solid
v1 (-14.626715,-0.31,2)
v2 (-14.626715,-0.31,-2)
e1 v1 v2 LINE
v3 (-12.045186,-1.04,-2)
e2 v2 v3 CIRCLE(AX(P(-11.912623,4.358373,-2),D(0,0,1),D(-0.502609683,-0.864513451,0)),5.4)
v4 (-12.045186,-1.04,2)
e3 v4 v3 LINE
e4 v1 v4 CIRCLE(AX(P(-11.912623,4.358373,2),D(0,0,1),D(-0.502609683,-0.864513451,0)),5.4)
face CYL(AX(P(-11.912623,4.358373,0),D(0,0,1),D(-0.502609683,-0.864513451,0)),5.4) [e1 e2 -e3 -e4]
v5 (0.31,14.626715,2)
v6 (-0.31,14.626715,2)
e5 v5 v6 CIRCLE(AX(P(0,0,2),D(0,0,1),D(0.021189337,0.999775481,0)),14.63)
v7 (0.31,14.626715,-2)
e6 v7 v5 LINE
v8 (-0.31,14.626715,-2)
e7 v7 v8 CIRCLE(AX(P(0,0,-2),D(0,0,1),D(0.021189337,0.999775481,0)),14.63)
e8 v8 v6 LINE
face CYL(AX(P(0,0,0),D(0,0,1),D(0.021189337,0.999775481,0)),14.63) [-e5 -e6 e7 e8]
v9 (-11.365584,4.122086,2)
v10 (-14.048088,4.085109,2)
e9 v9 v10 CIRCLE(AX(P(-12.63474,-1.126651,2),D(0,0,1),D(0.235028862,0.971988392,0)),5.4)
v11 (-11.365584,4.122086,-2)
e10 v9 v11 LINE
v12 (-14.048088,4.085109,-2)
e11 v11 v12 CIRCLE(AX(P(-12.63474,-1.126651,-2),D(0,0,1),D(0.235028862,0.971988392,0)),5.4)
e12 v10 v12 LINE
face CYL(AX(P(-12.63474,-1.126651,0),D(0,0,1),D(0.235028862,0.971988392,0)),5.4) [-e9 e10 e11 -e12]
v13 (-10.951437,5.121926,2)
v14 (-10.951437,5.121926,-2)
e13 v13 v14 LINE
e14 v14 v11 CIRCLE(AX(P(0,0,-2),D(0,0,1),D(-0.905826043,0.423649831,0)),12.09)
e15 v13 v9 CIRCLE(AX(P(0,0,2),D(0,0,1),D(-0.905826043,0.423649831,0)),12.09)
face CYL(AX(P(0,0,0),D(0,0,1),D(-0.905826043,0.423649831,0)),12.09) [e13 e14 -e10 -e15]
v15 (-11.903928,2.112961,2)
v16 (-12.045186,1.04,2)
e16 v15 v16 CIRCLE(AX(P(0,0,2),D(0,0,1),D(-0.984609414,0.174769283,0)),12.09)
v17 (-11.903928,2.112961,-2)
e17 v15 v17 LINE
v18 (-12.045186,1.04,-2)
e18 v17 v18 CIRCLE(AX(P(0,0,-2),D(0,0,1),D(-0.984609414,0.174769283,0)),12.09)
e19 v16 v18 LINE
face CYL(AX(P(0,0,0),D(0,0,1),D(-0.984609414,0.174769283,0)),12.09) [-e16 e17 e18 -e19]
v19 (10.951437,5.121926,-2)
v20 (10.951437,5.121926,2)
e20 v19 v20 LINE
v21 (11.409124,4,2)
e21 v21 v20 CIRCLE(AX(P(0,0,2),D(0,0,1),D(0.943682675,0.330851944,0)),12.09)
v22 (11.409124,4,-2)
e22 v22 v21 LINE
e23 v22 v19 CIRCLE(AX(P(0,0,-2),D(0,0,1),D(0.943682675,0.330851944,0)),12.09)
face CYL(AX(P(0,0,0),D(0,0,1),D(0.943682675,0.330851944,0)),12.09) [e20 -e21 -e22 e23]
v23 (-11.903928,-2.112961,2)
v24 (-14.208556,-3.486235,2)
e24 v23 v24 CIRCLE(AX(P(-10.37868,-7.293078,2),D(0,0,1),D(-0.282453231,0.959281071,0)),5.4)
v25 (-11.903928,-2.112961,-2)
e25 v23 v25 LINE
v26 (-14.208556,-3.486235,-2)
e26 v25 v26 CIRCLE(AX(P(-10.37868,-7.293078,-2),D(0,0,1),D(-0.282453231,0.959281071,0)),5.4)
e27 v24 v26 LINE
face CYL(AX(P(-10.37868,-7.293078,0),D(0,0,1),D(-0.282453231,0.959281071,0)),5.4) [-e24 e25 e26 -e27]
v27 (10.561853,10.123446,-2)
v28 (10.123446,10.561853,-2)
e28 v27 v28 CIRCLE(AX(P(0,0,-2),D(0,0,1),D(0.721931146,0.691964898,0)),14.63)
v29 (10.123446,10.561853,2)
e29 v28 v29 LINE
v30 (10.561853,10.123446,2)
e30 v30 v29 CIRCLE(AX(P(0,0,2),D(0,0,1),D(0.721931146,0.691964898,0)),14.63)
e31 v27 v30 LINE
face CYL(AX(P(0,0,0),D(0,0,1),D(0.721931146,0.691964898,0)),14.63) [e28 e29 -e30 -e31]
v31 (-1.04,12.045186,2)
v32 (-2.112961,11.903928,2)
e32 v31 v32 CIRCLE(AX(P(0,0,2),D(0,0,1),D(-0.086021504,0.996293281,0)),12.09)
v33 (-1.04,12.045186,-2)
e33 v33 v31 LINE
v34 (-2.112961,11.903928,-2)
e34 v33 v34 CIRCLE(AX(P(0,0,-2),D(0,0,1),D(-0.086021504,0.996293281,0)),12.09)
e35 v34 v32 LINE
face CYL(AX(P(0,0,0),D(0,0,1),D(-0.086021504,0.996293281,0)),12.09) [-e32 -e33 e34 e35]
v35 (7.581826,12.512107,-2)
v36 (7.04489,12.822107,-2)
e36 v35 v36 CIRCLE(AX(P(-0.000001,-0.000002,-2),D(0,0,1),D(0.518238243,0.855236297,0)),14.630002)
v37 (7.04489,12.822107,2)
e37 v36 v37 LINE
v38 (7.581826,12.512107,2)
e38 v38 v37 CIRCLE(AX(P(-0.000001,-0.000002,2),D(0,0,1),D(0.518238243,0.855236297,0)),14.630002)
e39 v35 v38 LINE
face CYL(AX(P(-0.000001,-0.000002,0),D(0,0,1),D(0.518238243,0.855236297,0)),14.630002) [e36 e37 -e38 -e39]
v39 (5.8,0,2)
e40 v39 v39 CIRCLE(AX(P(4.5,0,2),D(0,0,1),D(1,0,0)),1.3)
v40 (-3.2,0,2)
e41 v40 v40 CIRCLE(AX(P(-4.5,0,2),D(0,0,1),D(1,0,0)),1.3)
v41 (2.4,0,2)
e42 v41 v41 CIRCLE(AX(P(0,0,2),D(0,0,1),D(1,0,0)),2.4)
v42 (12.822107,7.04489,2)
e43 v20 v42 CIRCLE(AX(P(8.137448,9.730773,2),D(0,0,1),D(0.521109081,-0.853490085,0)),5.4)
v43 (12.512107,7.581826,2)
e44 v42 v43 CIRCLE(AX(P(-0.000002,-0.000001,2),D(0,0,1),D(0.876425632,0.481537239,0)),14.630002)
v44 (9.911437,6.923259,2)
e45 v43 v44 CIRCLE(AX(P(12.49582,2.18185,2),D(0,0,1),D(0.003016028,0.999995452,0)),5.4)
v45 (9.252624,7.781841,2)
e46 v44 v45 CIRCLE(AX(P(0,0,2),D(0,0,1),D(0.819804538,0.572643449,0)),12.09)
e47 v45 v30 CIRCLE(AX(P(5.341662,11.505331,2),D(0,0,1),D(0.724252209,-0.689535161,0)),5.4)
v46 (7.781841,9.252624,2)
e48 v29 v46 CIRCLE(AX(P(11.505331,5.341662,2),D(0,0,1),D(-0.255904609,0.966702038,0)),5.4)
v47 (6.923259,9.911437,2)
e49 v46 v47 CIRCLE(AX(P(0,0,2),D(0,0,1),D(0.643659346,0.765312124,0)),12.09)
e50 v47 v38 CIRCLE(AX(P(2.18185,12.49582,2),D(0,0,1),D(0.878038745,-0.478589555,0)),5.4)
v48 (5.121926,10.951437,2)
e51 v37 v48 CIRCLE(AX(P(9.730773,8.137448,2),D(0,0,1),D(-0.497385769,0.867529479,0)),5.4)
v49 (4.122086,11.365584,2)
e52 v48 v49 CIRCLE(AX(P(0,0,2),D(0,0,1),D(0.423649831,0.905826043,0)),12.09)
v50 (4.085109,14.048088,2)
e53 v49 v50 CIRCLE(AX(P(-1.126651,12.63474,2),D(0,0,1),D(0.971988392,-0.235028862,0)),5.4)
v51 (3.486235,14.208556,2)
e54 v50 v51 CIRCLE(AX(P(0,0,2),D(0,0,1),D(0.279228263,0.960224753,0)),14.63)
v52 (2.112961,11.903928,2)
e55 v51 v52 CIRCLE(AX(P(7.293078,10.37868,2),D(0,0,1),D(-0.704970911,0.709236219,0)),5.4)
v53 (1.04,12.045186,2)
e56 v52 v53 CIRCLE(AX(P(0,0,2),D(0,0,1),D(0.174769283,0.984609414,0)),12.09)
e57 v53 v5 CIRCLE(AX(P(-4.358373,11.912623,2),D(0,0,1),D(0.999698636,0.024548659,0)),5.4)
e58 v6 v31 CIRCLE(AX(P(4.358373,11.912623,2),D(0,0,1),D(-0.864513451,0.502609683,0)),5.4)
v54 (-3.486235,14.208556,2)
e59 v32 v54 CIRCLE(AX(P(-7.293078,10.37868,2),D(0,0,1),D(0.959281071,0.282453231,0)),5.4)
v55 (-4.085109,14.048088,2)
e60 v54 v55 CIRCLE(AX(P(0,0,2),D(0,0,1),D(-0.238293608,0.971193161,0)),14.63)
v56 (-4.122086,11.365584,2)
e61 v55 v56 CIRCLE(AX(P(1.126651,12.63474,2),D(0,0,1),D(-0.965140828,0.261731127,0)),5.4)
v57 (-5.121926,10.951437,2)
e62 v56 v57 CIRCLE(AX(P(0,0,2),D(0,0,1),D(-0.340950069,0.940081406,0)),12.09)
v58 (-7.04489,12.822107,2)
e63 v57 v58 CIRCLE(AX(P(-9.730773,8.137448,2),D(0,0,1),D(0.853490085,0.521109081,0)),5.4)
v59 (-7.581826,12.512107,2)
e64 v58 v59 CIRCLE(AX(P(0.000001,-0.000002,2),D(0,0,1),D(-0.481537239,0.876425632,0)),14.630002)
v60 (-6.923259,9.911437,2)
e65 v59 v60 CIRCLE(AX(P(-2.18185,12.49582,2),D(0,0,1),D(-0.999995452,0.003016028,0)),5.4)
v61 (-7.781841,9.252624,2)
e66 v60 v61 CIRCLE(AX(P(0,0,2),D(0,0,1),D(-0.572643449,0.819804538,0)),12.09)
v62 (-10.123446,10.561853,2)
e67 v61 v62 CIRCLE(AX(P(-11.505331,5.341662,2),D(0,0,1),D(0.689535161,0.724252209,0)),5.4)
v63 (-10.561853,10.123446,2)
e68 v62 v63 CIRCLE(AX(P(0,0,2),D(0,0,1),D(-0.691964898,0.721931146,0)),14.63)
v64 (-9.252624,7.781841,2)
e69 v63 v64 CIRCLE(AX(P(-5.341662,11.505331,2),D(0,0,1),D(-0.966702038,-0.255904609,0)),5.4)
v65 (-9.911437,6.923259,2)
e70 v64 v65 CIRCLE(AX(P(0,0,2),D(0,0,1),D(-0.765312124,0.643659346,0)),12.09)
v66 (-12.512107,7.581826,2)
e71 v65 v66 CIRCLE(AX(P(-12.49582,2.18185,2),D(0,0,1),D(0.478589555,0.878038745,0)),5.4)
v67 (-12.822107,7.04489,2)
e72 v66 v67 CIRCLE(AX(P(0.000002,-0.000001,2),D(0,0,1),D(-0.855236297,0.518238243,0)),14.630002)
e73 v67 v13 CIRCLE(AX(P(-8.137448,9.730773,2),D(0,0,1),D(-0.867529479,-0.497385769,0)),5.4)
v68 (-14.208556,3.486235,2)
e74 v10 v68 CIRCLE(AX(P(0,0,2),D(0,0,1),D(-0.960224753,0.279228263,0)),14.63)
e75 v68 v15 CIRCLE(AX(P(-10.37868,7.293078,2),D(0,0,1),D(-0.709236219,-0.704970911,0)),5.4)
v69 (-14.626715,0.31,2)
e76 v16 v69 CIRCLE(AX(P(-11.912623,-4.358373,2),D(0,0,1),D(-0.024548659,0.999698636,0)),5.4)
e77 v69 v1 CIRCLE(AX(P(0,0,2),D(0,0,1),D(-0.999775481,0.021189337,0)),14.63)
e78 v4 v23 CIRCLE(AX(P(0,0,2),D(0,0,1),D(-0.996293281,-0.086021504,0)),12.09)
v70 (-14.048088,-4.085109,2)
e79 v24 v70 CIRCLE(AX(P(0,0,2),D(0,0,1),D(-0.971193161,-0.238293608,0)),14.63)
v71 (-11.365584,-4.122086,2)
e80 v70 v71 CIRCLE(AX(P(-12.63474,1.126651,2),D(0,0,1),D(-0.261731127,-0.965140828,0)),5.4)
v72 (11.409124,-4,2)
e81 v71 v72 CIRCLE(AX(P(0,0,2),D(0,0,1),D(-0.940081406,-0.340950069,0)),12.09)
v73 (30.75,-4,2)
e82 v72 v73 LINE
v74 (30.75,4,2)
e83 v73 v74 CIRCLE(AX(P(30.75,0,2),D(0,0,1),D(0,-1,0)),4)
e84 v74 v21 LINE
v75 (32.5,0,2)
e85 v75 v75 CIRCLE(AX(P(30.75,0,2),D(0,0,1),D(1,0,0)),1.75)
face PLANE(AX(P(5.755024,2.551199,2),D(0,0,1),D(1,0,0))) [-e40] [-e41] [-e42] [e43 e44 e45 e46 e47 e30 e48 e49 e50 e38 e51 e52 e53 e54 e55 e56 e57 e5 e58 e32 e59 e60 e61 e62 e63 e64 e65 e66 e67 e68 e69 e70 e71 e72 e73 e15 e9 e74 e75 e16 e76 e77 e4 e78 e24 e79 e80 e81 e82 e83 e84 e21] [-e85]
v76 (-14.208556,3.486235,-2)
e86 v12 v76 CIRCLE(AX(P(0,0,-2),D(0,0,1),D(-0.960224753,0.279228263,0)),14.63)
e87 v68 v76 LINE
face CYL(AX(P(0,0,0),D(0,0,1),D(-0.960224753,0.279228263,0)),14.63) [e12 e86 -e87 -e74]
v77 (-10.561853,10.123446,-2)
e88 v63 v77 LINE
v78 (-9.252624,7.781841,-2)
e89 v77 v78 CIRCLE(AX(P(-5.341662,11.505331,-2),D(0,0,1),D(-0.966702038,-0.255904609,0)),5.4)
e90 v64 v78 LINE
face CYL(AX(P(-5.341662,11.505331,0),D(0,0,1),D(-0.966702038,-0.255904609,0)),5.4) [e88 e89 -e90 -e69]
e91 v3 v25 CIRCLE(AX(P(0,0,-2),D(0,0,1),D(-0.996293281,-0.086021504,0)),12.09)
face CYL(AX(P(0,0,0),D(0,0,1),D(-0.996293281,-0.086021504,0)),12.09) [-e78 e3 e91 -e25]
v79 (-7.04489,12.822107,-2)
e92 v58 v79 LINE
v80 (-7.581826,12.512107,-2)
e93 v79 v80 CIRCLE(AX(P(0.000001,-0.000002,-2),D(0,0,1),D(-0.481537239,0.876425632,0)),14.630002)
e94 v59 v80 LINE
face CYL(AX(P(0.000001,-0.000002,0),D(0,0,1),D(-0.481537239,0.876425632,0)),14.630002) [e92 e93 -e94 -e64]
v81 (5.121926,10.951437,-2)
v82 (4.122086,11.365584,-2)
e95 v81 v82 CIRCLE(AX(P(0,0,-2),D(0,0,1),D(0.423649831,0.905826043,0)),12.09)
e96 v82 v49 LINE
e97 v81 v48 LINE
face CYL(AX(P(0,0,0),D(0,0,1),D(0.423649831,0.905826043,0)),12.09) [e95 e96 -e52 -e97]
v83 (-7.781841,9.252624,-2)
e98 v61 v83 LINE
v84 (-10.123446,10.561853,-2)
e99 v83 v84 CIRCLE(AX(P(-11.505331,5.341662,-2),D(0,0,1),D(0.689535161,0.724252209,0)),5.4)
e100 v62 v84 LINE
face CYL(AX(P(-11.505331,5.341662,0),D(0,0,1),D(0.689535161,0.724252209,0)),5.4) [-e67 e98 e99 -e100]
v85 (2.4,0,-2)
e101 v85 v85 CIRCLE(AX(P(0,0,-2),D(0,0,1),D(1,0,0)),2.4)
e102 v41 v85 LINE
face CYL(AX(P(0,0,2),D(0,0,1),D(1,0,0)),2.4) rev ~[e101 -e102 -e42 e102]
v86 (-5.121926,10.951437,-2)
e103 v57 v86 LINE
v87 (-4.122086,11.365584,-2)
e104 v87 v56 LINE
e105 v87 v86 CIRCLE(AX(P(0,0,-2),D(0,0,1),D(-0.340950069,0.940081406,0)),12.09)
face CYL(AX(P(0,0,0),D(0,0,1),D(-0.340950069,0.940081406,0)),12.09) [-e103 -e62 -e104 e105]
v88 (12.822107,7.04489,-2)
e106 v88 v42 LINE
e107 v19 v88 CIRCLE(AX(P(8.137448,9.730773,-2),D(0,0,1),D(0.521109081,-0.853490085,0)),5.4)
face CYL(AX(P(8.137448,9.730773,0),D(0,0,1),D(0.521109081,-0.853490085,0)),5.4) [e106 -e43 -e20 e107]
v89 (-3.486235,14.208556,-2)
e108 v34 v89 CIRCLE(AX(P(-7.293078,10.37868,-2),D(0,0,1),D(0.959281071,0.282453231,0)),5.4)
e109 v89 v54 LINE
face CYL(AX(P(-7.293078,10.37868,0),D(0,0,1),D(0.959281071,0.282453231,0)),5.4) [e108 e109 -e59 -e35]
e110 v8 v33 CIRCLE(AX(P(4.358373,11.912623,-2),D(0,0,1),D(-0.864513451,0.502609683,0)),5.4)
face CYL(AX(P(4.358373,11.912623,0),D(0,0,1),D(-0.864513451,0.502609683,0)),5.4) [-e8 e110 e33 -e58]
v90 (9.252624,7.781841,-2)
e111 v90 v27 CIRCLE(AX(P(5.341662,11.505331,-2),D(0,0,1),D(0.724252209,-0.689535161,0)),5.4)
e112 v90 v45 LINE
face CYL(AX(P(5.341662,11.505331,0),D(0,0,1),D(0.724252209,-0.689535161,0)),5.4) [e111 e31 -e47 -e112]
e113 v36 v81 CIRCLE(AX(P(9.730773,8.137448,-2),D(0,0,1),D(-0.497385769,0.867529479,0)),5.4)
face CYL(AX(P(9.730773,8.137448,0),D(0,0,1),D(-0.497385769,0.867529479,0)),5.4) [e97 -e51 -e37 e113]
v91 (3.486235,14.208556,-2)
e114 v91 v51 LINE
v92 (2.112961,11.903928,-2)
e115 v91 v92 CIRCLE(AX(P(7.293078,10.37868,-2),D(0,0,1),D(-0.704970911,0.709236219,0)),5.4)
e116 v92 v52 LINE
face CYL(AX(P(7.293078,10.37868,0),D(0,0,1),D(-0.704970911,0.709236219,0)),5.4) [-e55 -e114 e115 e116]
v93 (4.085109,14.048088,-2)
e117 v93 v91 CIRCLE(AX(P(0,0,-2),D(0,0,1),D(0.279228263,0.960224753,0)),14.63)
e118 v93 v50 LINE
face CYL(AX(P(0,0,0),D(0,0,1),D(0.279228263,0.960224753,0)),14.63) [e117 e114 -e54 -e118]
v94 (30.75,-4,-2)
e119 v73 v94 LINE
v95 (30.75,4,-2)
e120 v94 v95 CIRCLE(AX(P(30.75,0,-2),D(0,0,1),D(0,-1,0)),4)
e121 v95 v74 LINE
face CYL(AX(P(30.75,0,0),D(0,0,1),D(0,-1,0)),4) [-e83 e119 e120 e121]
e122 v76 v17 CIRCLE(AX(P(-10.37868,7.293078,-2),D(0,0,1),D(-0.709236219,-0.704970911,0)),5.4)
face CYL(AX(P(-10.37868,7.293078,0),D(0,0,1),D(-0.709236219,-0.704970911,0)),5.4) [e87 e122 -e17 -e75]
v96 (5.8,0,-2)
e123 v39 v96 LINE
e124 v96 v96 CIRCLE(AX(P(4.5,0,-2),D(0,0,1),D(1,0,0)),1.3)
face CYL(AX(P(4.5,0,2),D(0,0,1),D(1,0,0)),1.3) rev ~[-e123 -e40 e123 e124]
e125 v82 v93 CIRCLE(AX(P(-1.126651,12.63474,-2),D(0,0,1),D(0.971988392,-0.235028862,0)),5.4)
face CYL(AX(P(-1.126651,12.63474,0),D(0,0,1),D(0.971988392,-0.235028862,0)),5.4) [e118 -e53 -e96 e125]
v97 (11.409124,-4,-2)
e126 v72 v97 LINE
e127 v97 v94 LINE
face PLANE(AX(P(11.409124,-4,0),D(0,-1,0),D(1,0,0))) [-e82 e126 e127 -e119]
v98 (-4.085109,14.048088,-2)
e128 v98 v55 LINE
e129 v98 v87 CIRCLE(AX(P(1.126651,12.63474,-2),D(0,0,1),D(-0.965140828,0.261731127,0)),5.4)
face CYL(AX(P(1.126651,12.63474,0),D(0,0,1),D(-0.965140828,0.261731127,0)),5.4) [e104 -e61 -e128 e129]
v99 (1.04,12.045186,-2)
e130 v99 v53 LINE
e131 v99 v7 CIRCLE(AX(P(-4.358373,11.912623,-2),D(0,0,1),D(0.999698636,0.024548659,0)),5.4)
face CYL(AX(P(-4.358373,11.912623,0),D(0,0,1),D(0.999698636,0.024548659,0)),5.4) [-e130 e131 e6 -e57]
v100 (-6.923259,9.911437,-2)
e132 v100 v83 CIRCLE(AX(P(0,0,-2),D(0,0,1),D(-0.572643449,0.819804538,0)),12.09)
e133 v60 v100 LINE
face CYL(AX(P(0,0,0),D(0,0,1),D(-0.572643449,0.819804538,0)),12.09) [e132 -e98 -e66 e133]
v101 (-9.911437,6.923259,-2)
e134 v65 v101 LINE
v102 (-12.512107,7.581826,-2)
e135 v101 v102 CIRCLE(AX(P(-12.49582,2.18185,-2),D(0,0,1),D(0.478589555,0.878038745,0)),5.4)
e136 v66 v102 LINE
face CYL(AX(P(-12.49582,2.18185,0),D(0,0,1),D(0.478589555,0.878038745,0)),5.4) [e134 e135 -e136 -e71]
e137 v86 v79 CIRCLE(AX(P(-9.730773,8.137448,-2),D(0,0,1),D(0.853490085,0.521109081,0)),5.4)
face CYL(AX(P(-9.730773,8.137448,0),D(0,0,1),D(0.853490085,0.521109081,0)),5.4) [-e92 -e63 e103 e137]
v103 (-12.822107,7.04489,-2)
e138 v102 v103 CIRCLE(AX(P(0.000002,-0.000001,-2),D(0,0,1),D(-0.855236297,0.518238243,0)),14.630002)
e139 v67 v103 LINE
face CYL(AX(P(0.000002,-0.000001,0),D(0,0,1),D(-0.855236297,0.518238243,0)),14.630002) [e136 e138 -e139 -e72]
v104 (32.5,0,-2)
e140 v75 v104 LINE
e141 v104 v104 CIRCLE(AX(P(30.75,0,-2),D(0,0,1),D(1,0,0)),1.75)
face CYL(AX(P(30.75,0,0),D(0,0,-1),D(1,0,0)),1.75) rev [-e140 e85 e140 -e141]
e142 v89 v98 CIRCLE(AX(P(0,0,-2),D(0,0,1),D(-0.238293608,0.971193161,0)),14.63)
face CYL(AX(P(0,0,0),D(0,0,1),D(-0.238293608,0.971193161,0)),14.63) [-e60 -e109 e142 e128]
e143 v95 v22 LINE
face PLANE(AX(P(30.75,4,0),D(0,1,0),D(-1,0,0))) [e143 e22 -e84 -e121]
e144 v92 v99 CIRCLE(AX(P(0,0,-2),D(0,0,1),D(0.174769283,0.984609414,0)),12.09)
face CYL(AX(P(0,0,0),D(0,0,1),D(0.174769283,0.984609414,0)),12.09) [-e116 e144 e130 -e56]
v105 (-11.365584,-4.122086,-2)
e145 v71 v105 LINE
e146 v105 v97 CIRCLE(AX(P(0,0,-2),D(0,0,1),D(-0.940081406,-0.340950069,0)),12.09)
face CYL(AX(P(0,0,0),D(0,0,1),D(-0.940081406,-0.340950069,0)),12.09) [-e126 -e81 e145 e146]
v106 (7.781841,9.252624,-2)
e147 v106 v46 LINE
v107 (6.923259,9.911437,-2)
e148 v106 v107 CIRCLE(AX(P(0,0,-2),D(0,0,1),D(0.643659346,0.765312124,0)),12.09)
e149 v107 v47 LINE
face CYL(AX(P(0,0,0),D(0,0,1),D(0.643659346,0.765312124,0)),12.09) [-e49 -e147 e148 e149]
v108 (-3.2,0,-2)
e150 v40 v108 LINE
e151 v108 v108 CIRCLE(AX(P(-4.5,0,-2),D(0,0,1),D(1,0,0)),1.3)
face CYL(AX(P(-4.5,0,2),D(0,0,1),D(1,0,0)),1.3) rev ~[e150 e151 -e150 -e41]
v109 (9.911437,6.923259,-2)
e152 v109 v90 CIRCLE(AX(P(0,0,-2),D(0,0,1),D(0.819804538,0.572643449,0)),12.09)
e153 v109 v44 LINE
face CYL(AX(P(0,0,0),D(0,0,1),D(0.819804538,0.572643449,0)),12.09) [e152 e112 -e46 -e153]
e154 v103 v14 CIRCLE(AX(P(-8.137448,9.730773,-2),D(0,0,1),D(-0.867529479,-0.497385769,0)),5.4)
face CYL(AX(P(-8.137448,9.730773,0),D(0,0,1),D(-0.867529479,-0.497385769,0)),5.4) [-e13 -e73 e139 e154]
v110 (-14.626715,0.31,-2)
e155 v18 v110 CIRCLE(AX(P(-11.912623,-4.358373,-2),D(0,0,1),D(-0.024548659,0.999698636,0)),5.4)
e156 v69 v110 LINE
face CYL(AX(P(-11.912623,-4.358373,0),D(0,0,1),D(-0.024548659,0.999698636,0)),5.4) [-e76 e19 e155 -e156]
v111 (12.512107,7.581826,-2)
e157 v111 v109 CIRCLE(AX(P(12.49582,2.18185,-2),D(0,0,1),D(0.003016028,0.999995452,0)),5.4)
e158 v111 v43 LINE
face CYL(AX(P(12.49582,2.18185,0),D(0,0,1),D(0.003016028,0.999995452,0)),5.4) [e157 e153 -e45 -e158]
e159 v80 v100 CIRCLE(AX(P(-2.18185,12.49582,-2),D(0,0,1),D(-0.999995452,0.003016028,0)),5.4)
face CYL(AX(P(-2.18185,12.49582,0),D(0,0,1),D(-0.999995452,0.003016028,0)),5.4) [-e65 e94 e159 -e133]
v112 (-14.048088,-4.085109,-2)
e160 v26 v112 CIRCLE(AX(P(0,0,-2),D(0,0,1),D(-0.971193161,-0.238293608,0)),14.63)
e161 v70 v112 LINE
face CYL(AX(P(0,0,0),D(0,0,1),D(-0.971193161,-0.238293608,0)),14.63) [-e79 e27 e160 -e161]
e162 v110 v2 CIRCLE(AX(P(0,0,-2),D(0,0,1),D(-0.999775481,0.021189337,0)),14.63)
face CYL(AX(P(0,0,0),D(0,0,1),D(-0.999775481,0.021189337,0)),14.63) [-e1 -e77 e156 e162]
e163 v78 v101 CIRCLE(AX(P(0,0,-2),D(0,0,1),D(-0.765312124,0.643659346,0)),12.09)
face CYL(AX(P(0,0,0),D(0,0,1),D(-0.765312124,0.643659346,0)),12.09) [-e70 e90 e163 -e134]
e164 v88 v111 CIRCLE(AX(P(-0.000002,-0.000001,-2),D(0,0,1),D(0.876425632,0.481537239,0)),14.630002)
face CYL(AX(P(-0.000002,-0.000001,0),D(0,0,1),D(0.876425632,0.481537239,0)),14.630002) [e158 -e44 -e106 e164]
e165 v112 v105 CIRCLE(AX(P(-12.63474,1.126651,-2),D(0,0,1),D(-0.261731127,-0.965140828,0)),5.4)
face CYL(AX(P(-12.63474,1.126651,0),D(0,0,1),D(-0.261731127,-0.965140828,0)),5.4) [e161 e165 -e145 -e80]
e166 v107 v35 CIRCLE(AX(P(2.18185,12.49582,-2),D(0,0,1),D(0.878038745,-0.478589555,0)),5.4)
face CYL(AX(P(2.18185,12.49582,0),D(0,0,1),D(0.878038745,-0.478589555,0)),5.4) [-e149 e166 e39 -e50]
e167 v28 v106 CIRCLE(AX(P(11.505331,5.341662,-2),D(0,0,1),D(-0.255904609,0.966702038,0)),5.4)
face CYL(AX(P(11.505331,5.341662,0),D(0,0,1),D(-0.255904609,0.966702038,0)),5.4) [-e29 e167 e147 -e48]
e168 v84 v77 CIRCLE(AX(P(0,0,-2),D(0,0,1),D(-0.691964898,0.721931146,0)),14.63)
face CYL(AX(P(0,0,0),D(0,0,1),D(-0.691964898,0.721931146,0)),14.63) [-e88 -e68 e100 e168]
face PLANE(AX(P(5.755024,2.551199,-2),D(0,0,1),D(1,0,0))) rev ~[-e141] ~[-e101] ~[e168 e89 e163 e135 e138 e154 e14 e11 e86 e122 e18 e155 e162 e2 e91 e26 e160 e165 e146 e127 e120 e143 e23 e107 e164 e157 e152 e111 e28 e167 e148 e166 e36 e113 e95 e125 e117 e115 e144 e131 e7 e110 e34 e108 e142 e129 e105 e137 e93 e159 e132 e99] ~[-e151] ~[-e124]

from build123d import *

# Parameters (mm, degrees)
ESQUISSE1_R                  = 1.75
BOSS_EXTRU_1_DEPTH           = 2
ESQUISSE2_R                  = 1.3
ESQUISSE2_R_2                = 2.4
ENL_V_MAT_EXTRU_1_DEPTH      = 1
ENL_V_MAT_EXTRU_1_DEPTH_BACK = 5


with BuildPart() as part:
    # Esquisse1 → Boss.-Extru.1 (new body, symmetric)
    with BuildSketch(Plane.XY):
        with BuildLine():
            ThreePointArc((30.75, -4), (34.75, 0), (30.75, 4))
            Line((30.75, 4), (11.409123542, 4))
            ThreePointArc((11.409123542, 4), (11.194344337, 4.566700654), (10.951436862, 5.12192646))
            ThreePointArc((10.951436862, 5.12192646), (12.008090957, 5.965388247), (12.82210701, 7.044889767))
            ThreePointArc((12.82210701, 7.044889767), (12.669951657, 7.315), (12.51210701, 7.581825517))
            ThreePointArc((12.51210701, 7.581825517), (11.170223244, 7.416617696), (9.911436862, 6.9232593))
            ThreePointArc((9.911436862, 6.9232593), (9.591641884, 7.359925677), (9.252623584, 7.781841479))
            ThreePointArc((9.252623584, 7.781841479), (10.05496909, 8.870045207), (10.561852666, 10.123446462))
            ThreePointArc((10.561852666, 10.123446462), (10.344972209, 10.344972209), (10.123446462, 10.561852666))
            ThreePointArc((10.123446462, 10.561852666), (8.870045207, 10.05496909), (7.781841479, 9.252623584))
            ThreePointArc((7.781841479, 9.252623584), (7.359925677, 9.591641884), (6.9232593, 9.911436862))
            ThreePointArc((6.9232593, 9.911436862), (7.416617696, 11.170223244), (7.581825517, 12.51210701))
            ThreePointArc((7.581825517, 12.51210701), (7.315, 12.669951657), (7.044889767, 12.82210701))
            ThreePointArc((7.044889767, 12.82210701), (5.965388247, 12.008090957), (5.12192646, 10.951436862))
            ThreePointArc((5.12192646, 10.951436862), (4.626642697, 11.169703548), (4.122086336, 11.365584201))
            ThreePointArc((4.122086336, 11.365584201), (4.272836063, 12.709169027), (4.085109489, 14.048088143))
            ThreePointArc((4.085109489, 14.048088143), (3.78652263, 14.131494839), (3.486235477, 14.208555951))
            ThreePointArc((3.486235477, 14.208555951), (2.654199937, 13.14288127), (2.112960617, 11.903927815))
            ThreePointArc((2.112960617, 11.903927815), (1.578061664, 11.986568374), (1.04, 12.04518576))
            ThreePointArc((1.04, 12.04518576), (0.837867713, 13.382005944), (0.31, 14.626715284))
            ThreePointArc((0.31, 14.626715284), (0, 14.63), (-0.31, 14.626715284))
            ThreePointArc((-0.31, 14.626715284), (-0.837867713, 13.382005944), (-1.04, 12.04518576))
            ThreePointArc((-1.04, 12.04518576), (-1.578061664, 11.986568374), (-2.112960617, 11.903927815))
            ThreePointArc((-2.112960617, 11.903927815), (-2.654199937, 13.14288127), (-3.486235477, 14.208555951))
            ThreePointArc((-3.486235477, 14.208555951), (-3.78652263, 14.131494839), (-4.085109489, 14.048088143))
            ThreePointArc((-4.085109489, 14.048088143), (-4.272836063, 12.709169027), (-4.122086336, 11.365584201))
            ThreePointArc((-4.122086336, 11.365584201), (-4.626642697, 11.169703548), (-5.12192646, 10.951436862))
            ThreePointArc((-5.12192646, 10.951436862), (-5.965388247, 12.008090957), (-7.044889767, 12.82210701))
            ThreePointArc((-7.044889767, 12.82210701), (-7.315, 12.669951657), (-7.581825517, 12.51210701))
            ThreePointArc((-7.581825517, 12.51210701), (-7.416617696, 11.170223244), (-6.9232593, 9.911436862))
            ThreePointArc((-6.9232593, 9.911436862), (-7.359925677, 9.591641884), (-7.781841479, 9.252623584))
            ThreePointArc((-7.781841479, 9.252623584), (-8.870045207, 10.05496909), (-10.123446462, 10.561852666))
            ThreePointArc((-10.123446462, 10.561852666), (-10.344972209, 10.344972209), (-10.561852666, 10.123446462))
            ThreePointArc((-10.561852666, 10.123446462), (-10.05496909, 8.870045207), (-9.252623584, 7.781841479))
            ThreePointArc((-9.252623584, 7.781841479), (-9.591641884, 7.359925677), (-9.911436862, 6.9232593))
            ThreePointArc((-9.911436862, 6.9232593), (-11.170223244, 7.416617696), (-12.51210701, 7.581825517))
            ThreePointArc((-12.51210701, 7.581825517), (-12.669951657, 7.315), (-12.82210701, 7.044889767))
            ThreePointArc((-12.82210701, 7.044889767), (-12.008090957, 5.965388247), (-10.951436862, 5.12192646))
            ThreePointArc((-10.951436862, 5.12192646), (-11.169703548, 4.626642697), (-11.365584201, 4.122086336))
            ThreePointArc((-11.365584201, 4.122086336), (-12.709169027, 4.272836063), (-14.048088143, 4.085109489))
            ThreePointArc((-14.048088143, 4.085109489), (-14.131494839, 3.78652263), (-14.208555951, 3.486235477))
            ThreePointArc((-14.208555951, 3.486235477), (-13.14288127, 2.654199937), (-11.903927815, 2.112960617))
            ThreePointArc((-11.903927815, 2.112960617), (-11.986568374, 1.578061664), (-12.04518576, 1.04))
            ThreePointArc((-12.04518576, 1.04), (-13.382005944, 0.837867713), (-14.626715284, 0.31))
            ThreePointArc((-14.626715284, 0.31), (-14.63, 0), (-14.626715284, -0.31))
            ThreePointArc((-14.626715284, -0.31), (-13.382005944, -0.837867713), (-12.04518576, -1.04))
            ThreePointArc((-12.04518576, -1.04), (-11.986568374, -1.578061664), (-11.903927815, -2.112960617))
            ThreePointArc((-11.903927815, -2.112960617), (-13.14288127, -2.654199937), (-14.208555951, -3.486235477))
            ThreePointArc((-14.208555951, -3.486235477), (-14.131494839, -3.78652263), (-14.048088143, -4.085109489))
            ThreePointArc((-14.048088143, -4.085109489), (-12.709169027, -4.272836063), (-11.365584201, -4.122086336))
            ThreePointArc((-11.365584201, -4.122086336), (0.064808849, -12.089826294), (11.409123542, -4))
            Line((11.409123542, -4), (30.75, -4))
        make_face()
        with Locations((30.75, 0)):
            Circle(ESQUISSE1_R, mode=Mode.SUBTRACT)
        Circle(ESQUISSE1_R, mode=Mode.SUBTRACT)
    extrude(amount=BOSS_EXTRU_1_DEPTH, both=True)

    # Esquisse2 → Enlèv. mat.-Extru.1 (cut, two sides)
    with BuildSketch(Plane.XY.offset(2)) as enl_v_mat_extru_1_sk:
        with Locations((4.5, 0)):
            Circle(ESQUISSE2_R)
        with Locations((-4.5, 0)):
            Circle(ESQUISSE2_R)
        Circle(ESQUISSE2_R_2)
    extrude(amount=ENL_V_MAT_EXTRU_1_DEPTH, mode=Mode.SUBTRACT)
    extrude(enl_v_mat_extru_1_sk.sketch, amount=-ENL_V_MAT_EXTRU_1_DEPTH_BACK, mode=Mode.SUBTRACT)


solid = part.part
